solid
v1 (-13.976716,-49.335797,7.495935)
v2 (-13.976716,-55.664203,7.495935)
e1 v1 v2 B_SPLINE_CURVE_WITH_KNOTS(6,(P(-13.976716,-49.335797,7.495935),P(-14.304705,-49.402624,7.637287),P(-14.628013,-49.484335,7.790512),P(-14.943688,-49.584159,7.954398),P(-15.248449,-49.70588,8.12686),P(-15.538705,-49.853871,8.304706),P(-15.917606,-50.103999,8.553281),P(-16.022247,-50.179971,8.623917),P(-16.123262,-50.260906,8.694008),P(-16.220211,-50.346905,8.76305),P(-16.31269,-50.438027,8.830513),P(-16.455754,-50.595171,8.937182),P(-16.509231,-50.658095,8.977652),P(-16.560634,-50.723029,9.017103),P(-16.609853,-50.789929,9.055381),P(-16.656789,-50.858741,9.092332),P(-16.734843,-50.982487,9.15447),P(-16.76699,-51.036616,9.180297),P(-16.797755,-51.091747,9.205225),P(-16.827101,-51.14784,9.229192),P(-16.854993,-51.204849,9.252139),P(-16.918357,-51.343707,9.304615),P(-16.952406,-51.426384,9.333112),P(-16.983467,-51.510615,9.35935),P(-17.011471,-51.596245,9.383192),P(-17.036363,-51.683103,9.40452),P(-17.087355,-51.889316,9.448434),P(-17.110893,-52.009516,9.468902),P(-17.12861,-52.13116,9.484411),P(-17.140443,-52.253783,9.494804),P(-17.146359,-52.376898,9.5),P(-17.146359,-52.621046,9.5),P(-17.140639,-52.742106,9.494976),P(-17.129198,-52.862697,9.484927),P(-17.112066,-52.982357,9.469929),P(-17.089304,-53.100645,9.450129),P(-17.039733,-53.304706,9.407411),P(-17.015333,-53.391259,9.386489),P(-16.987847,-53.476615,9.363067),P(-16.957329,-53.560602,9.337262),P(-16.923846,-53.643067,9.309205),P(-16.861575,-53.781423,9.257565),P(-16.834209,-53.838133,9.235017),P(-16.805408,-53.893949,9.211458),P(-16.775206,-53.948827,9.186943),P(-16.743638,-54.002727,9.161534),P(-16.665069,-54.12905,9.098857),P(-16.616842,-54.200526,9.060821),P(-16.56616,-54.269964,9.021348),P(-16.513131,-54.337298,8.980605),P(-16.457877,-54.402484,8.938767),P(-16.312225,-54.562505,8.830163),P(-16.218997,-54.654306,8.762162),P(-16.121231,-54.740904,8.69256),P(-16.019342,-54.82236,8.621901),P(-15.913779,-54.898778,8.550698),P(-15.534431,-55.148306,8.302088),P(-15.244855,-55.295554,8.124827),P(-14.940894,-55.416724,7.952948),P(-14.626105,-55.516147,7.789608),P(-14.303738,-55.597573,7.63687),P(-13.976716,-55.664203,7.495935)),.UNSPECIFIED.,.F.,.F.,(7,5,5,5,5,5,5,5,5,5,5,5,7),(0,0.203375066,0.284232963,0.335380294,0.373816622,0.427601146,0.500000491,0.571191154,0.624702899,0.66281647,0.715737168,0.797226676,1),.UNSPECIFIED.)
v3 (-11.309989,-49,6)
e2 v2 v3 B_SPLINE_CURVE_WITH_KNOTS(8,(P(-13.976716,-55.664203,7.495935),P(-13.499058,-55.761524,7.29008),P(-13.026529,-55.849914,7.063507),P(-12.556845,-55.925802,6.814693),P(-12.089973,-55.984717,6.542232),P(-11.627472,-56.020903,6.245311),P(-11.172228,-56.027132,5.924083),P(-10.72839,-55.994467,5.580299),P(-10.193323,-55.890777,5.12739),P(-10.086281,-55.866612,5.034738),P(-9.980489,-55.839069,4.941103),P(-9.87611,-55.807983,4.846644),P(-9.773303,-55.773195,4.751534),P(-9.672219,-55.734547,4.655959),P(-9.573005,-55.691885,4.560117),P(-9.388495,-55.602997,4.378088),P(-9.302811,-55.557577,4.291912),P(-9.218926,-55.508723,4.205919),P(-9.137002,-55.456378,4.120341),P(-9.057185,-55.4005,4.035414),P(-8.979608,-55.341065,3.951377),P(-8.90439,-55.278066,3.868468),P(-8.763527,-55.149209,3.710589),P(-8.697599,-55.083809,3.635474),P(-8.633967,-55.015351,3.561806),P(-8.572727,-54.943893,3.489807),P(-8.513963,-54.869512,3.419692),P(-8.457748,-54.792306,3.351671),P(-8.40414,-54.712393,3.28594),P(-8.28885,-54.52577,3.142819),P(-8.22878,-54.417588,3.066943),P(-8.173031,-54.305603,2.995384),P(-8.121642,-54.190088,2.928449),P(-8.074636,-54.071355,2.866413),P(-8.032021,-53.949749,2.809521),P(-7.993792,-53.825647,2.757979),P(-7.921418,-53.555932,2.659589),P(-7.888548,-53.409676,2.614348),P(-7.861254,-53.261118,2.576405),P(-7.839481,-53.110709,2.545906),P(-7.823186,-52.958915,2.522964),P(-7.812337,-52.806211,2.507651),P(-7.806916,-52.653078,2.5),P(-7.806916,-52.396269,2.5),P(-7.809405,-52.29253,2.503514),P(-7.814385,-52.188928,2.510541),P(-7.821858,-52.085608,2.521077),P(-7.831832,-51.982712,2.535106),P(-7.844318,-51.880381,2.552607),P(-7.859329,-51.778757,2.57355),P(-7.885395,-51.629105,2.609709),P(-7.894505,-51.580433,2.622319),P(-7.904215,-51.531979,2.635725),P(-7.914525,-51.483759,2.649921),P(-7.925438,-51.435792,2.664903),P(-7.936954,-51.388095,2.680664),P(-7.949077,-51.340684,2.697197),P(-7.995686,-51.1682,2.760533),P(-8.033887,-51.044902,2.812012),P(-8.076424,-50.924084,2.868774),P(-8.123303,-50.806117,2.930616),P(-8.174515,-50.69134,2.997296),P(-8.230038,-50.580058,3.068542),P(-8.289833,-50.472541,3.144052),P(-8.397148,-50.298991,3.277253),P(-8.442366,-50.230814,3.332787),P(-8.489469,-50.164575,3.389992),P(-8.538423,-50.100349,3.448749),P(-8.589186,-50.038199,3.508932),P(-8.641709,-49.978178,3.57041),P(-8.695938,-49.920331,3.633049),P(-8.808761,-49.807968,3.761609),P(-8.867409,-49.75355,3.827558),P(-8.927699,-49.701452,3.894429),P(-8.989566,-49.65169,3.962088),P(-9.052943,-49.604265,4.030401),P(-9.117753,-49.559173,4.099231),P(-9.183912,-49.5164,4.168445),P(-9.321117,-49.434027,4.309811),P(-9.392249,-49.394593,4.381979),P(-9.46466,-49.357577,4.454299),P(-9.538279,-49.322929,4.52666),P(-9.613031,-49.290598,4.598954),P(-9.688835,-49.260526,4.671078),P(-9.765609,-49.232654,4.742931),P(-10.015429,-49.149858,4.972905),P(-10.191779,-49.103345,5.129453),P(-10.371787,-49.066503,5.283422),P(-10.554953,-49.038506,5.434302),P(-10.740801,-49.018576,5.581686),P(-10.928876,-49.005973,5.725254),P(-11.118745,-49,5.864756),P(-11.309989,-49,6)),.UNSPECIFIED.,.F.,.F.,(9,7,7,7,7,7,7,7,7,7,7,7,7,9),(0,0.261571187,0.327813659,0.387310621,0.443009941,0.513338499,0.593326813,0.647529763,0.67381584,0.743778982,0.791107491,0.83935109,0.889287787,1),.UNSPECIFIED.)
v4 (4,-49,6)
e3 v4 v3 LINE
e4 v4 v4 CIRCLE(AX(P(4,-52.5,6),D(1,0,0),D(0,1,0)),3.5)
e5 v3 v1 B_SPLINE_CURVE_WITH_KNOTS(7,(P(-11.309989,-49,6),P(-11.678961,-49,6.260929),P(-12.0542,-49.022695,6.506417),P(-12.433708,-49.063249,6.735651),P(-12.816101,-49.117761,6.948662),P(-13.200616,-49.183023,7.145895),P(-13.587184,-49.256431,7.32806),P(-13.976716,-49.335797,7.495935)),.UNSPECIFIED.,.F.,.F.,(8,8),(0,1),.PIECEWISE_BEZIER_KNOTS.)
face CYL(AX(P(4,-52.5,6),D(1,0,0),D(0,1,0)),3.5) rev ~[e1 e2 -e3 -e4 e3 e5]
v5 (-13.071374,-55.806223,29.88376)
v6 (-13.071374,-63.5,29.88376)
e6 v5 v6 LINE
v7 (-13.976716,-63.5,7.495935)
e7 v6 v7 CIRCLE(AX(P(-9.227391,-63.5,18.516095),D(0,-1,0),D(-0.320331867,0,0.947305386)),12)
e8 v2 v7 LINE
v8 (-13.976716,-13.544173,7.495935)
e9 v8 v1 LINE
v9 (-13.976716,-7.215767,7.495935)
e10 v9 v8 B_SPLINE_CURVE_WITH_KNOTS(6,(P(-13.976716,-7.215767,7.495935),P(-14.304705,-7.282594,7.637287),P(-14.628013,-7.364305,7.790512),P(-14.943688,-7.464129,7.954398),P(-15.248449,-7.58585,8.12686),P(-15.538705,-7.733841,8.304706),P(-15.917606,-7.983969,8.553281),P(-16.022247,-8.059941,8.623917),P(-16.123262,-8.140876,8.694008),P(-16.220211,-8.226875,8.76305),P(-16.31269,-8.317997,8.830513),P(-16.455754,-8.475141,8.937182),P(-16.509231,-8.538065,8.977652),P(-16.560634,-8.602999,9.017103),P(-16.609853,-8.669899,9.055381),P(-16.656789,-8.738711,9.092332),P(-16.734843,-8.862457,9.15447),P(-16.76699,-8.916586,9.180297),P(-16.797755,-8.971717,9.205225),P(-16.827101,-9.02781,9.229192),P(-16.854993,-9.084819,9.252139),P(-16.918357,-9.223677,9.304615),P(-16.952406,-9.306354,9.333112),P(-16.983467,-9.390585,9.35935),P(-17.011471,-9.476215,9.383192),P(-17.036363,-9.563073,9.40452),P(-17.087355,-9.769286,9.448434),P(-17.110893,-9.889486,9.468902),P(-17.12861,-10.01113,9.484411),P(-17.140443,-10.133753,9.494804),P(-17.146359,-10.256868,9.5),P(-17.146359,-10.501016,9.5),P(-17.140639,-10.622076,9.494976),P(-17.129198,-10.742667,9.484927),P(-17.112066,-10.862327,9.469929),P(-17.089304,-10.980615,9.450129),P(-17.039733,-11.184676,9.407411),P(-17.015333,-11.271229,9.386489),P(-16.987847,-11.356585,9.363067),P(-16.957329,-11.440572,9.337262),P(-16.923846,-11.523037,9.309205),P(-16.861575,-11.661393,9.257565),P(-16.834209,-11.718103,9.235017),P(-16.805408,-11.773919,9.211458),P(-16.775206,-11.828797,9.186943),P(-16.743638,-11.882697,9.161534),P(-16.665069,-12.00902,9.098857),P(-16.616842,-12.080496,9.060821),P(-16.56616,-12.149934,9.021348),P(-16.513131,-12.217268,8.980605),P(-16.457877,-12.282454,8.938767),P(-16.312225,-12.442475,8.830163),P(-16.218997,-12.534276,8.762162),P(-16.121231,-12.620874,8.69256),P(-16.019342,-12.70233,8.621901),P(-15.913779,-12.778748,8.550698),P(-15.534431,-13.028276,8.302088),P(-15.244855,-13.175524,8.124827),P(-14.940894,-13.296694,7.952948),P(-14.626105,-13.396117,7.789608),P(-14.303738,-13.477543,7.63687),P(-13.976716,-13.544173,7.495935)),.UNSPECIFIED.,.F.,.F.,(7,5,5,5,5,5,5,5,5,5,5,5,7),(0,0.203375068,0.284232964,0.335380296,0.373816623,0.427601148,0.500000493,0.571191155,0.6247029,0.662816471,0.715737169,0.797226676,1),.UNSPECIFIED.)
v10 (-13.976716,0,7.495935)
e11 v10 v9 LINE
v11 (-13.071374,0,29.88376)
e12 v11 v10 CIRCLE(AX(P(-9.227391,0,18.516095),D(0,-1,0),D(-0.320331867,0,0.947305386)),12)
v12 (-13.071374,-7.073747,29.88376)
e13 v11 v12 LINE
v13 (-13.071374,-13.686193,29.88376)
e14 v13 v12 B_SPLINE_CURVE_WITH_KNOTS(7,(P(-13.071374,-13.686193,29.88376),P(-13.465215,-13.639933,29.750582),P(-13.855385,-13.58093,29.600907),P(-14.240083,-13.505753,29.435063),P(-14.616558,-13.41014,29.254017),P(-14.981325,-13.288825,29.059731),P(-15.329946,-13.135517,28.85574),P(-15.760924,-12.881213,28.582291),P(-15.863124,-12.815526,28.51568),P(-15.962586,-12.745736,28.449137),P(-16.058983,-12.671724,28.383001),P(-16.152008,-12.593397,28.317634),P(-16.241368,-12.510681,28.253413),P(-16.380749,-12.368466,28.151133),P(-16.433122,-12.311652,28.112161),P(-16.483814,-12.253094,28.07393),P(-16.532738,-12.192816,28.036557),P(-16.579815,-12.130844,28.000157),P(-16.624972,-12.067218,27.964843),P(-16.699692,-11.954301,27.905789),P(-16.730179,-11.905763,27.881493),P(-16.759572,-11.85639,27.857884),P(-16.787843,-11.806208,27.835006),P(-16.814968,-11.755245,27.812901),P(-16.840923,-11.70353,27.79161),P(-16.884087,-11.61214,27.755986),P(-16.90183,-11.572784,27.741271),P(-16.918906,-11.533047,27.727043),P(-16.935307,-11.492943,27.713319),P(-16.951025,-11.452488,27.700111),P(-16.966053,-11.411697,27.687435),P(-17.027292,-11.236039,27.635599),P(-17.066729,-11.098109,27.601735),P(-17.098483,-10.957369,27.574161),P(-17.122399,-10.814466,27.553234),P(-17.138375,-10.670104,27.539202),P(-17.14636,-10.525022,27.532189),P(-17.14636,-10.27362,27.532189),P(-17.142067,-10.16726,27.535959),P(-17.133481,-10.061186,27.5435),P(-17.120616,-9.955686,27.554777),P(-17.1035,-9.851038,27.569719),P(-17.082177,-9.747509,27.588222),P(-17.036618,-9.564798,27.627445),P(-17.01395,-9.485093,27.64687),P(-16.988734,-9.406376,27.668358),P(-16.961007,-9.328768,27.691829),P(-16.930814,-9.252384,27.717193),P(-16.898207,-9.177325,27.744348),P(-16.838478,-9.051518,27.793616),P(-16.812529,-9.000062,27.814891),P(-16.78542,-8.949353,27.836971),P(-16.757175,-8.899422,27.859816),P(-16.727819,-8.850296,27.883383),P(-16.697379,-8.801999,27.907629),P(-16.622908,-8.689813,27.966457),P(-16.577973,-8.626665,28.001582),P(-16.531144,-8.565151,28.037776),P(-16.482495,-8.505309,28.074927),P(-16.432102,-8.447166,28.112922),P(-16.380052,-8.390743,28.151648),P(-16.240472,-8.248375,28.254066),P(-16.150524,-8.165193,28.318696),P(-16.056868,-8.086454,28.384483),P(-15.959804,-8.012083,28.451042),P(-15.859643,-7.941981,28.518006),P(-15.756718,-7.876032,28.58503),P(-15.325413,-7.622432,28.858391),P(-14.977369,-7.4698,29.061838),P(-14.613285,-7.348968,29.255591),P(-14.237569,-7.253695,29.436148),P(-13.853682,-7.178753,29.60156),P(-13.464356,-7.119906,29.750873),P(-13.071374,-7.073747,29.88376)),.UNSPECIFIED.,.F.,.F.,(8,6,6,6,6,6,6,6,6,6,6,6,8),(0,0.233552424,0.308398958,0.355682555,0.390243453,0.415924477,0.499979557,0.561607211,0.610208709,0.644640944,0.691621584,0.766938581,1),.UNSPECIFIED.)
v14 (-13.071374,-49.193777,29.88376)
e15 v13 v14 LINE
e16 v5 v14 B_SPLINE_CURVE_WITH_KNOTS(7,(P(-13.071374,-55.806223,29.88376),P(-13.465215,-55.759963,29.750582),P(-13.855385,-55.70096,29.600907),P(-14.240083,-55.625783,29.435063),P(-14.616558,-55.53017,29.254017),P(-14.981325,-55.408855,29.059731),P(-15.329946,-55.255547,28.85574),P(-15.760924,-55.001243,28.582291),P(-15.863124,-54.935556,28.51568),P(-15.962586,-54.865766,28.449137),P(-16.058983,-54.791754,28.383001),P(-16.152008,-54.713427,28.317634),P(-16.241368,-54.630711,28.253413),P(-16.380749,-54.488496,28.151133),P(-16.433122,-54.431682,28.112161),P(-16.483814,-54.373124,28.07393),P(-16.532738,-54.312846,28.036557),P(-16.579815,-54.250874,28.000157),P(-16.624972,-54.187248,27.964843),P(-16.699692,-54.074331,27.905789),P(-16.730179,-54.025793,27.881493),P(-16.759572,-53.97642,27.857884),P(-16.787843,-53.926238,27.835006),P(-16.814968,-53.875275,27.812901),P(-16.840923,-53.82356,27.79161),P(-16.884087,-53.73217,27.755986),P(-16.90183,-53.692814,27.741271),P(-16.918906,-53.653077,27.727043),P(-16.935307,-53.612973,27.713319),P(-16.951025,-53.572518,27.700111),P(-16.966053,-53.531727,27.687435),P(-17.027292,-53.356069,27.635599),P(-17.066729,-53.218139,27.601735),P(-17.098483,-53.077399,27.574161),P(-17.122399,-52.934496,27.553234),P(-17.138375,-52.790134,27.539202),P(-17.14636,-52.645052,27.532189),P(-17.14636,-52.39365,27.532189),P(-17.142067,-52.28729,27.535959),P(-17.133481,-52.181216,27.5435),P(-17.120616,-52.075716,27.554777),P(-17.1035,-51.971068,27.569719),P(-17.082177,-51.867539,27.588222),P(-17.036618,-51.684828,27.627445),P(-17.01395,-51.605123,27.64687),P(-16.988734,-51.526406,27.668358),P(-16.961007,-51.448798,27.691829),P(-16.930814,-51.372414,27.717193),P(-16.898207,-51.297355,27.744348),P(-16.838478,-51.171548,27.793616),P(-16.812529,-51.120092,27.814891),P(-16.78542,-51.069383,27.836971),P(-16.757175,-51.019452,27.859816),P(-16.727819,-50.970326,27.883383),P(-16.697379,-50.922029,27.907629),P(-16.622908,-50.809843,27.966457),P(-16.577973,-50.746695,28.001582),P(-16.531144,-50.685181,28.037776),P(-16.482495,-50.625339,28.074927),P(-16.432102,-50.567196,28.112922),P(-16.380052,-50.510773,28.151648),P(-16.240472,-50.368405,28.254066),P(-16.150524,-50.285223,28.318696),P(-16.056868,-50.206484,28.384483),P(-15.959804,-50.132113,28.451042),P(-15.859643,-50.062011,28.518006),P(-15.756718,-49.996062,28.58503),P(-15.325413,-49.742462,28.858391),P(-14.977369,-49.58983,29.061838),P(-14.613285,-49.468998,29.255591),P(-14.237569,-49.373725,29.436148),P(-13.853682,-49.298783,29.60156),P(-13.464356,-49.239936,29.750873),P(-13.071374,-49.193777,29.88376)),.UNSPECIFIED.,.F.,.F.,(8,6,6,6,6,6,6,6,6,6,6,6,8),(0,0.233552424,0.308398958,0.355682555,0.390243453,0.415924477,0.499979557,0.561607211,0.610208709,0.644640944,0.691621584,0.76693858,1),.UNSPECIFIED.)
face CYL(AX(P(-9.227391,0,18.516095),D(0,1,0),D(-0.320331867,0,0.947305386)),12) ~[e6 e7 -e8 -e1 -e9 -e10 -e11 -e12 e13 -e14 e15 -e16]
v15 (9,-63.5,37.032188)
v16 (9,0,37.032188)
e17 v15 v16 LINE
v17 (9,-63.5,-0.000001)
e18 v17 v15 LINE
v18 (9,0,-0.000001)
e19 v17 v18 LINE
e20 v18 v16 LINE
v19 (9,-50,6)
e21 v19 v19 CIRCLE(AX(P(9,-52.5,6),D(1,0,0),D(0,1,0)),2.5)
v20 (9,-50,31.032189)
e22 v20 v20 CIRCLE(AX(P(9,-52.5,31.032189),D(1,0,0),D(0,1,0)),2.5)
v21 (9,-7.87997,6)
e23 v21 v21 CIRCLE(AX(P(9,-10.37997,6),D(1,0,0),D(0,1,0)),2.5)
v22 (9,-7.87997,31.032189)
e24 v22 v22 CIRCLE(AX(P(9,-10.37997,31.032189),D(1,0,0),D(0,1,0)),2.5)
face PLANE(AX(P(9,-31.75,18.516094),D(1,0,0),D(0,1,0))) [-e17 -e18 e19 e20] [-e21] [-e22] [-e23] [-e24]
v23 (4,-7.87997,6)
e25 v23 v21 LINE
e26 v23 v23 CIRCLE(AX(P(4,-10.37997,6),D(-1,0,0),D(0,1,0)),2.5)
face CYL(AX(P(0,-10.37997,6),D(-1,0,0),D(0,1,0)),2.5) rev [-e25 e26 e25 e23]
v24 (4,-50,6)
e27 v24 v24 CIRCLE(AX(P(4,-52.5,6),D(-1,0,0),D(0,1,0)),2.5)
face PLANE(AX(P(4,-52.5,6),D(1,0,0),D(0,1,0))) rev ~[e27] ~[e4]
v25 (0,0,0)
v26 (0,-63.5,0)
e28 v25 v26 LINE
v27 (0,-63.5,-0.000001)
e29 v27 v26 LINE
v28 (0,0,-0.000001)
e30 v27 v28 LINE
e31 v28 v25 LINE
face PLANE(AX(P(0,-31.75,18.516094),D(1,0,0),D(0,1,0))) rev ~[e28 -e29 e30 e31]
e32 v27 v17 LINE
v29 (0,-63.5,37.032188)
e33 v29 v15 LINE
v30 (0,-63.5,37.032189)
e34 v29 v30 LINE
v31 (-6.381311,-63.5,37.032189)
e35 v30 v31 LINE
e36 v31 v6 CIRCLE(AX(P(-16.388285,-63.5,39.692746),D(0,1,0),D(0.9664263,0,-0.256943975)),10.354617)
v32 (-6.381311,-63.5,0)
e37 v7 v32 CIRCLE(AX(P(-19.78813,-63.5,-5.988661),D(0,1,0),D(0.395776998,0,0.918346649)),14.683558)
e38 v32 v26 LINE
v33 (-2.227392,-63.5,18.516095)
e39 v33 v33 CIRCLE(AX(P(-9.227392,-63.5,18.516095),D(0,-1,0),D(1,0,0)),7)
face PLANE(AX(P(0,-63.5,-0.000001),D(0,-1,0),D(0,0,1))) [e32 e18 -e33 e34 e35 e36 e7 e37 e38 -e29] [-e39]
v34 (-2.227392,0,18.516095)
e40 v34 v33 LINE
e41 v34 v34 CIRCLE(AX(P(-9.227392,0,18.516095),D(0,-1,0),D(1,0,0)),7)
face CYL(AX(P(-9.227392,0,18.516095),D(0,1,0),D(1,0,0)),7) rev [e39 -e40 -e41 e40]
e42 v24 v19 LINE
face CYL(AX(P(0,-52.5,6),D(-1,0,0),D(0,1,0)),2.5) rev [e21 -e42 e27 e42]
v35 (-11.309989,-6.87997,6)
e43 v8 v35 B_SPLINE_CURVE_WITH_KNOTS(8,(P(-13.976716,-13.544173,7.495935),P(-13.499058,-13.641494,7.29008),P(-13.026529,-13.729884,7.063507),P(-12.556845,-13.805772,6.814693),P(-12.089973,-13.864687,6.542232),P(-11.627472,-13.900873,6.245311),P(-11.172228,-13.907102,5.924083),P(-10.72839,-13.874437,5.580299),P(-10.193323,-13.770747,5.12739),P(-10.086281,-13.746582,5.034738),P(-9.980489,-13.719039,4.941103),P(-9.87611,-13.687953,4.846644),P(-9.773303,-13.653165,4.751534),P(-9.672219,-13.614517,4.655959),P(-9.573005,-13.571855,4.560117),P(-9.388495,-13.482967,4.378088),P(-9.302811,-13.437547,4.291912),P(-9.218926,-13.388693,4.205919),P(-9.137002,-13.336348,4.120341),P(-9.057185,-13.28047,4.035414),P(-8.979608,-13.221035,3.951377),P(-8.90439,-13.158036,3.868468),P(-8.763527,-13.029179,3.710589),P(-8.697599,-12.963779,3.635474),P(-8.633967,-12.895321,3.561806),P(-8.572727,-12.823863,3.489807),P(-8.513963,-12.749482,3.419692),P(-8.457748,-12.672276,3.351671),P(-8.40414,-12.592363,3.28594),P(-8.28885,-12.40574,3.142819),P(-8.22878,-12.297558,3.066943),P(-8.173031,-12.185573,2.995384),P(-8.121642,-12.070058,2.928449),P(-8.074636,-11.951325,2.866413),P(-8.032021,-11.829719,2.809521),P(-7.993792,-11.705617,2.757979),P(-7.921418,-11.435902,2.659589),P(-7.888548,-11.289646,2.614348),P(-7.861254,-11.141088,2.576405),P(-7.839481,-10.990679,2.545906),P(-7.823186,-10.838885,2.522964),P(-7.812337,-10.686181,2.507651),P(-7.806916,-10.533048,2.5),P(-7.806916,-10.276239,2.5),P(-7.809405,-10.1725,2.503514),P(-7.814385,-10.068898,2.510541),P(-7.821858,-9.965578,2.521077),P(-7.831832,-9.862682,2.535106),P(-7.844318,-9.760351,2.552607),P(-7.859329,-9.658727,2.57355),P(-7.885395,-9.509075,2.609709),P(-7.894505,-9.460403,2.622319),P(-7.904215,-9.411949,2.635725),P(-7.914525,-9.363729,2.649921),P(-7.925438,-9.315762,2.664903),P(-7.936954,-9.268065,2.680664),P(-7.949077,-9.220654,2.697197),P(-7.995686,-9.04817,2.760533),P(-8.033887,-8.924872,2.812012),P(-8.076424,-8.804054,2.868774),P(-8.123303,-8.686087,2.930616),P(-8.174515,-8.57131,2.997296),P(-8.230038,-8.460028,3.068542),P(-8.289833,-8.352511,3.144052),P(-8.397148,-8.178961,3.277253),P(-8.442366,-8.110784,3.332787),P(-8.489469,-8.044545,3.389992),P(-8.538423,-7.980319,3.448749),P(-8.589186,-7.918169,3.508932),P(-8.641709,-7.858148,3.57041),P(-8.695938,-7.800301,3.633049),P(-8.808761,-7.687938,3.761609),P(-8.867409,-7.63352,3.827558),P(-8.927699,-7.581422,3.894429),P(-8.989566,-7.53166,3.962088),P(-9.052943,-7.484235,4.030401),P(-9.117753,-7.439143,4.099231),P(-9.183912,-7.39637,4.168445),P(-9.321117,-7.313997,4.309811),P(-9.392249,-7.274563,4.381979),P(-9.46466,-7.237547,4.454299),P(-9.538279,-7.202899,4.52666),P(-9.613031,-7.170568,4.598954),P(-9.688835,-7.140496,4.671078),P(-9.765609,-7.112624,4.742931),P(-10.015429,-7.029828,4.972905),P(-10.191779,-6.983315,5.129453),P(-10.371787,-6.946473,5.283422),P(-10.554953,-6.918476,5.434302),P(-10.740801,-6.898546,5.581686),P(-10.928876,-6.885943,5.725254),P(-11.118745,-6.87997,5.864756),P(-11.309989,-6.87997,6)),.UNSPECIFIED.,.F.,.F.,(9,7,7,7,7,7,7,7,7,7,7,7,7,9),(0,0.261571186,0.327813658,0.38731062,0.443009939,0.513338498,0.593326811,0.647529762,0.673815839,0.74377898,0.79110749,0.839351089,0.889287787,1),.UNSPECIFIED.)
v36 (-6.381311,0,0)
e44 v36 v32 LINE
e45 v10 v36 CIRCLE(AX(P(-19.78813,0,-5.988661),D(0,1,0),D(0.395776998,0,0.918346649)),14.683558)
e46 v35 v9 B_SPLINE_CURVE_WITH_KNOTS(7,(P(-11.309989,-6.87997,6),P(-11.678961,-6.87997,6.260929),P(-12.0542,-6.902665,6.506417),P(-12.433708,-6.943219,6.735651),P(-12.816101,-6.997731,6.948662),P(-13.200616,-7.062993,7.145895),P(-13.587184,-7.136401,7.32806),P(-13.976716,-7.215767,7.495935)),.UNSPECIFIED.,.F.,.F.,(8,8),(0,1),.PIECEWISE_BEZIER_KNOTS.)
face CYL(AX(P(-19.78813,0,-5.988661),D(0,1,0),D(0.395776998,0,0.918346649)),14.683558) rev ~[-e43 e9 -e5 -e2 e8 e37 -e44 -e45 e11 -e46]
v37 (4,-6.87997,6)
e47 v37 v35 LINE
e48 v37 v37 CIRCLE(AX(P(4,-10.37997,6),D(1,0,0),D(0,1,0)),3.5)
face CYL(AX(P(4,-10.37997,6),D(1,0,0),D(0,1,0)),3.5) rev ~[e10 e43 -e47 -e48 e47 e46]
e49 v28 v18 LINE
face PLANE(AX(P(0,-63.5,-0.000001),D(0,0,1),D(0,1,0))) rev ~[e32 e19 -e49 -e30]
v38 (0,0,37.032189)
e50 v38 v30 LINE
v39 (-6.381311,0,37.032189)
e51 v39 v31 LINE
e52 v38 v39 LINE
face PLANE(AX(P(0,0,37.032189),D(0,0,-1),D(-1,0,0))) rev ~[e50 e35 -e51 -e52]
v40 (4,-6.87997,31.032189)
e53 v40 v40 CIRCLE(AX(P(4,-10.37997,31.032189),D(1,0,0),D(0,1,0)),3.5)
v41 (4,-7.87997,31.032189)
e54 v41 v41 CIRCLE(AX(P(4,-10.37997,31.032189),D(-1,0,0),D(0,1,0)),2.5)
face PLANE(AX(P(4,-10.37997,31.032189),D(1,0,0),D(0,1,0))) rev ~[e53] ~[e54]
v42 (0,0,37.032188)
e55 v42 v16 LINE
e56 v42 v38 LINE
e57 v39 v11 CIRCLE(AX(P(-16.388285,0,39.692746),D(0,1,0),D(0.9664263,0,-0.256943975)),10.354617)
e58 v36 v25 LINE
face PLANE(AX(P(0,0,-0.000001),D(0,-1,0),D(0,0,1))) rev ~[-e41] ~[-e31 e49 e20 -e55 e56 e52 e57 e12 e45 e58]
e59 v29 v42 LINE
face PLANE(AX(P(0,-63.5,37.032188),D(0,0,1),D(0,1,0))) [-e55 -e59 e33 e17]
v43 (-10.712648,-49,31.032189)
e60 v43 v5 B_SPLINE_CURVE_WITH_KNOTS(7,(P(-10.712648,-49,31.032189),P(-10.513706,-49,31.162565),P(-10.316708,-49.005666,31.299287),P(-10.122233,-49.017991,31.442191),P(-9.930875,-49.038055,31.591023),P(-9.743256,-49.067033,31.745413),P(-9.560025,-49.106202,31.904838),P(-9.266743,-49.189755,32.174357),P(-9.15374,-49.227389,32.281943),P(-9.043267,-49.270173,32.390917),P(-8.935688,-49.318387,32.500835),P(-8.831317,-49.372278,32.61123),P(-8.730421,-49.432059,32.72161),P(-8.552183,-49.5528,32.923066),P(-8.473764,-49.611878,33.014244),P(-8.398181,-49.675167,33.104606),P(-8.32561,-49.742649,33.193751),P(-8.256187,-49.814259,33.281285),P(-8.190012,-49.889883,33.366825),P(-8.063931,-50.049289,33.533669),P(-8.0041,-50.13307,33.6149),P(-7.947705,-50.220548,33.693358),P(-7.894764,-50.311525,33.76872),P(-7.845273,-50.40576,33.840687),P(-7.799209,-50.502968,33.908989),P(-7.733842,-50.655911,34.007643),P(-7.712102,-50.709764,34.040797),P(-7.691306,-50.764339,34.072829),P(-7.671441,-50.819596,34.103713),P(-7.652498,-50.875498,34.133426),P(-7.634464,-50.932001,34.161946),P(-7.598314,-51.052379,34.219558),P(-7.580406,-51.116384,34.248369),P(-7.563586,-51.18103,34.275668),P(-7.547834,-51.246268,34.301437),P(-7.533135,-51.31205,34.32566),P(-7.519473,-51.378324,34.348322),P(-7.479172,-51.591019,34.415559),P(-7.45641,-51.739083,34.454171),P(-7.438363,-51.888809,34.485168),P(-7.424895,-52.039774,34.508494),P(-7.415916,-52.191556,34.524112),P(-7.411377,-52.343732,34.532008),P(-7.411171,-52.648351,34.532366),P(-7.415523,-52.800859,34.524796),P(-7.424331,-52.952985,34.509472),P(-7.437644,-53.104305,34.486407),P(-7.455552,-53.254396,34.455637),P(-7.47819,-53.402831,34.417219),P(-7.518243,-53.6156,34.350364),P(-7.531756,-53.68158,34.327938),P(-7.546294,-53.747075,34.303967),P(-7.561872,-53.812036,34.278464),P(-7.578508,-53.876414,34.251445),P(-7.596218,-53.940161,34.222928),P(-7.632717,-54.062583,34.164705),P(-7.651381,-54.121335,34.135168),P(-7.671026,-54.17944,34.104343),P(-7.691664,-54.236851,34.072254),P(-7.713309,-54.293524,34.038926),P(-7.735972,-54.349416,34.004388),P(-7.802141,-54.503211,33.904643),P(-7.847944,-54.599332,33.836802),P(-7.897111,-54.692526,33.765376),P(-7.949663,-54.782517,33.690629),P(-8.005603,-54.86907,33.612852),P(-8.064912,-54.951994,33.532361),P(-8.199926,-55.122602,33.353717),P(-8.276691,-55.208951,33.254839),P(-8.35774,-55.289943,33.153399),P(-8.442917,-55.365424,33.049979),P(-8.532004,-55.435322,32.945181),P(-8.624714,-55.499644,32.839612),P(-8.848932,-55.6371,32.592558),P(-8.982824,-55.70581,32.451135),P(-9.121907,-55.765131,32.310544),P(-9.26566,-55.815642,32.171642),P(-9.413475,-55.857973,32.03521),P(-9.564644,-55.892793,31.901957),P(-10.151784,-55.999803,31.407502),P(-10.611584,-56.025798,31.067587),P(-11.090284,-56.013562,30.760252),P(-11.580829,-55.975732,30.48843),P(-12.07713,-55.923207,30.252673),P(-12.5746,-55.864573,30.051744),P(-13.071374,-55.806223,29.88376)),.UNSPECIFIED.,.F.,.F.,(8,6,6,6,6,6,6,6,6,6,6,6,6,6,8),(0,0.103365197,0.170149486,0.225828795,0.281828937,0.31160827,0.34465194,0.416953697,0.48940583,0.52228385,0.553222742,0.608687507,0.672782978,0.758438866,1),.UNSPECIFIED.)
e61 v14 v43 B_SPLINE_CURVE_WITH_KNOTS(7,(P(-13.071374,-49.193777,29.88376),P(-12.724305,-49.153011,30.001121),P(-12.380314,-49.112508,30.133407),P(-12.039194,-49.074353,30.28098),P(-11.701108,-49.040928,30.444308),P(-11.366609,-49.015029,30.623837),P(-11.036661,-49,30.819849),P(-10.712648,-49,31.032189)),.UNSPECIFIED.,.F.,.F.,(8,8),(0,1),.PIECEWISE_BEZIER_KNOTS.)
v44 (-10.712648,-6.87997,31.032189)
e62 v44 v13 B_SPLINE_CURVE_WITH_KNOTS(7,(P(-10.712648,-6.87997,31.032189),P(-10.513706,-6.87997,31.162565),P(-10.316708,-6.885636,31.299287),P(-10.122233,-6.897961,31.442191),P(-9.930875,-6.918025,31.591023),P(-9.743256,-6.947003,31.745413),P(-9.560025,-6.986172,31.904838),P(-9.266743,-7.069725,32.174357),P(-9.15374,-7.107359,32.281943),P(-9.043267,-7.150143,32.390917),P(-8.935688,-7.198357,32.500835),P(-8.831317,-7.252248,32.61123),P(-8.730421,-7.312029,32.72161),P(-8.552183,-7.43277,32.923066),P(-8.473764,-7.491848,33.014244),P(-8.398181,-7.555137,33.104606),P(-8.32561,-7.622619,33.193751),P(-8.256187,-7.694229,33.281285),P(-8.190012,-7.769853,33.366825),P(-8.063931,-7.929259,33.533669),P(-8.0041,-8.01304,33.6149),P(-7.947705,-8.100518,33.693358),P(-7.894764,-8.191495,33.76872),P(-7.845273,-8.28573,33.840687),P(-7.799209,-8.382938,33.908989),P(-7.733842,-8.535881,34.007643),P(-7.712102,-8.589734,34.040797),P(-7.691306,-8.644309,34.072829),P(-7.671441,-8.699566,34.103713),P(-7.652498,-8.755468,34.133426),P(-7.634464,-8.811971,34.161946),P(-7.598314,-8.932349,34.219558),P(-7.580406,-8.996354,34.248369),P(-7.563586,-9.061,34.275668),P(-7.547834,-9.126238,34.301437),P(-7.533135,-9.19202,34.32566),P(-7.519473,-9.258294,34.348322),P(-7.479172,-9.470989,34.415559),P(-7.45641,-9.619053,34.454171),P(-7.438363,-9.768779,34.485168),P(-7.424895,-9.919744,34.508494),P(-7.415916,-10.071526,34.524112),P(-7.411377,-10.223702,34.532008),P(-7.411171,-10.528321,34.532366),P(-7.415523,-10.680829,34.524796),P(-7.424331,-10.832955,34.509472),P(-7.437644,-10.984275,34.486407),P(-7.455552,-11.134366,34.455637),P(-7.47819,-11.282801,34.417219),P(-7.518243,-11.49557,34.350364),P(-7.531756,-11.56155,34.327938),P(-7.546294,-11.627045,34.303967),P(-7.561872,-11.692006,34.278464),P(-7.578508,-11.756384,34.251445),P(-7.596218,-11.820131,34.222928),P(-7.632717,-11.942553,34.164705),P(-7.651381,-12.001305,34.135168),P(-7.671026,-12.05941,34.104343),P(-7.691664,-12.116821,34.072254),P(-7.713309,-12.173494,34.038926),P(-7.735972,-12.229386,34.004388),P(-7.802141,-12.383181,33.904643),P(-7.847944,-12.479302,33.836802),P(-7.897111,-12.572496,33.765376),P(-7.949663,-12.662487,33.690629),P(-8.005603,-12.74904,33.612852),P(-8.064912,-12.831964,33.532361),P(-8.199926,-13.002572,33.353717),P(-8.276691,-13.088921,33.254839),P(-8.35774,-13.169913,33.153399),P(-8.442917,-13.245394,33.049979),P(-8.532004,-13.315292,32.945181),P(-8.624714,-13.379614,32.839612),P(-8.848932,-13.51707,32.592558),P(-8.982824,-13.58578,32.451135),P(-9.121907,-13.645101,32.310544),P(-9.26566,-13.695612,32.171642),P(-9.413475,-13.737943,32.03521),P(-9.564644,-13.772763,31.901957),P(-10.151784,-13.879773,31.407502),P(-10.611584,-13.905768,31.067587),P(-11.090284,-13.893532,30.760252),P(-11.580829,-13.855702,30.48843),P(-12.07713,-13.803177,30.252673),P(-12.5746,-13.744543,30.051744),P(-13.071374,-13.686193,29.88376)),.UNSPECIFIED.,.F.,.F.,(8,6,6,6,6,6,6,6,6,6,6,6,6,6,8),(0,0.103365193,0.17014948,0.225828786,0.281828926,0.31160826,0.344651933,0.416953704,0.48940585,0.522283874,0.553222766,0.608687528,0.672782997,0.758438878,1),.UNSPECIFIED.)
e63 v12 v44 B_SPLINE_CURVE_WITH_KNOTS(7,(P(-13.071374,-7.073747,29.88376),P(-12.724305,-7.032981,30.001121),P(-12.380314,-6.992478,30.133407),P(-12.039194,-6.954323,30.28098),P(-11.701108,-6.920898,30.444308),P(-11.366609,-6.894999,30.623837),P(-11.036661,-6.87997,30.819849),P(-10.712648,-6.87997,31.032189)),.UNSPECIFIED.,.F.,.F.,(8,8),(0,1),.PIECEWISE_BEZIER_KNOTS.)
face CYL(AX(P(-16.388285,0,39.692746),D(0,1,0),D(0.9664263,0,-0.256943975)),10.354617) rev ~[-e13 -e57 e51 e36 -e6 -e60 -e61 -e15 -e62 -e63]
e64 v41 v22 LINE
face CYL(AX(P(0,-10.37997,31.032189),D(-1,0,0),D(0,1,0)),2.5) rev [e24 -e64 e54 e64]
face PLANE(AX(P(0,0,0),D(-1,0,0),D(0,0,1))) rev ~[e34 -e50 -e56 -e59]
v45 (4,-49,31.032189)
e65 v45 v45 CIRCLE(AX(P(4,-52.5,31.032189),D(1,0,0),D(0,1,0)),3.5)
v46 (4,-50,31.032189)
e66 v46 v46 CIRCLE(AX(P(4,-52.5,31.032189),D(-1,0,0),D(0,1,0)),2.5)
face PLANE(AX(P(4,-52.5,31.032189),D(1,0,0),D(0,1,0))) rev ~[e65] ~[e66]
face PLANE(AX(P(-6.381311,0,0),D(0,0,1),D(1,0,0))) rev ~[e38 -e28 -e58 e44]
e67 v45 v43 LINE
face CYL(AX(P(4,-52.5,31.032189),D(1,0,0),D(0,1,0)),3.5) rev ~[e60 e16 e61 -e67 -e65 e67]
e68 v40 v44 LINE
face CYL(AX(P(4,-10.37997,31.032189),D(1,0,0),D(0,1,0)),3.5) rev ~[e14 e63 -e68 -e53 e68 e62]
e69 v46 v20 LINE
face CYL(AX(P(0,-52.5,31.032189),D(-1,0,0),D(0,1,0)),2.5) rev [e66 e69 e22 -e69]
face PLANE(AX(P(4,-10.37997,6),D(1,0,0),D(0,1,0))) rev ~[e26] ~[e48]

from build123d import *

# Parameters (mm, degrees)
F0_R     = 7
F1_DEPTH = 63.5
F2_R     = 2.5
F3_DEPTH = 25
F4_W     = 63.5
F4_H     = 37.032189
F4_R     = 2.5
F5_DEPTH = 9
F7_R     = 3.5
F8_DEPTH = 25


with BuildPart() as f1:
    # F0 (on Front) → F1 (new body)
    with BuildSketch(Plane.XZ):
        with BuildLine():
            Line((0, 0), (0, 37.032189))
            Line((0, 37.032189), (-6.381311, 37.032189))
            ThreePointArc((-6.381311, 37.032189), (-8.828094, 32.617323), (-13.071374, 29.88376))
            ThreePointArc((-13.071374, 29.88376), (-21.217592, 19.000967), (-13.976716, 7.495935))
            ThreePointArc((-13.976716, 7.495935), (-9.473946, 4.46239), (-6.381311, 0))
            Line((-6.381311, 0), (0, 0))
        make_face()
        with Locations((-9.227392, 18.516095)):
            Circle(F0_R, mode=Mode.SUBTRACT)
    extrude(amount=F1_DEPTH)

    # F2 (on face) → F3 (cut)
    with BuildSketch(Plane.YZ):
        with Locations((-52.5, 31.032189)):
            Circle(F2_R)
        with Locations((-10.37997, 31.032189)):
            Circle(F2_R)
        with Locations((-52.5, 6)):
            Circle(F2_R)
        with Locations((-10.37997, 6)):
            Circle(F2_R)
    extrude(amount=-F3_DEPTH, mode=Mode.SUBTRACT)

    # F4 (on face) → F5 (join)
    with BuildSketch(Plane.YZ):
        with Locations((-31.75, 18.516094)):
            Rectangle(F4_W, F4_H)
        with Locations((-52.5, 6)):
            Circle(F4_R, mode=Mode.SUBTRACT)
        with Locations((-10.37997, 6)):
            Circle(F4_R, mode=Mode.SUBTRACT)
        with Locations((-52.5, 31.032189)):
            Circle(F4_R, mode=Mode.SUBTRACT)
        with Locations((-10.37997, 31.032189)):
            Circle(F4_R, mode=Mode.SUBTRACT)
    extrude(amount=F5_DEPTH)

    # F7 (on offset) → F8 (cut)
    with BuildSketch(Plane.YZ.offset(4)):
        with Locations((-52.5, 6)):
            Circle(F7_R)
        with Locations((-52.5, 31.032189)):
            Circle(F7_R)
        with Locations((-10.37997, 6)):
            Circle(F7_R)
        with Locations((-10.37997, 31.032189)):
            Circle(F7_R)
    extrude(amount=-F8_DEPTH, mode=Mode.SUBTRACT)


solid = f1.part
